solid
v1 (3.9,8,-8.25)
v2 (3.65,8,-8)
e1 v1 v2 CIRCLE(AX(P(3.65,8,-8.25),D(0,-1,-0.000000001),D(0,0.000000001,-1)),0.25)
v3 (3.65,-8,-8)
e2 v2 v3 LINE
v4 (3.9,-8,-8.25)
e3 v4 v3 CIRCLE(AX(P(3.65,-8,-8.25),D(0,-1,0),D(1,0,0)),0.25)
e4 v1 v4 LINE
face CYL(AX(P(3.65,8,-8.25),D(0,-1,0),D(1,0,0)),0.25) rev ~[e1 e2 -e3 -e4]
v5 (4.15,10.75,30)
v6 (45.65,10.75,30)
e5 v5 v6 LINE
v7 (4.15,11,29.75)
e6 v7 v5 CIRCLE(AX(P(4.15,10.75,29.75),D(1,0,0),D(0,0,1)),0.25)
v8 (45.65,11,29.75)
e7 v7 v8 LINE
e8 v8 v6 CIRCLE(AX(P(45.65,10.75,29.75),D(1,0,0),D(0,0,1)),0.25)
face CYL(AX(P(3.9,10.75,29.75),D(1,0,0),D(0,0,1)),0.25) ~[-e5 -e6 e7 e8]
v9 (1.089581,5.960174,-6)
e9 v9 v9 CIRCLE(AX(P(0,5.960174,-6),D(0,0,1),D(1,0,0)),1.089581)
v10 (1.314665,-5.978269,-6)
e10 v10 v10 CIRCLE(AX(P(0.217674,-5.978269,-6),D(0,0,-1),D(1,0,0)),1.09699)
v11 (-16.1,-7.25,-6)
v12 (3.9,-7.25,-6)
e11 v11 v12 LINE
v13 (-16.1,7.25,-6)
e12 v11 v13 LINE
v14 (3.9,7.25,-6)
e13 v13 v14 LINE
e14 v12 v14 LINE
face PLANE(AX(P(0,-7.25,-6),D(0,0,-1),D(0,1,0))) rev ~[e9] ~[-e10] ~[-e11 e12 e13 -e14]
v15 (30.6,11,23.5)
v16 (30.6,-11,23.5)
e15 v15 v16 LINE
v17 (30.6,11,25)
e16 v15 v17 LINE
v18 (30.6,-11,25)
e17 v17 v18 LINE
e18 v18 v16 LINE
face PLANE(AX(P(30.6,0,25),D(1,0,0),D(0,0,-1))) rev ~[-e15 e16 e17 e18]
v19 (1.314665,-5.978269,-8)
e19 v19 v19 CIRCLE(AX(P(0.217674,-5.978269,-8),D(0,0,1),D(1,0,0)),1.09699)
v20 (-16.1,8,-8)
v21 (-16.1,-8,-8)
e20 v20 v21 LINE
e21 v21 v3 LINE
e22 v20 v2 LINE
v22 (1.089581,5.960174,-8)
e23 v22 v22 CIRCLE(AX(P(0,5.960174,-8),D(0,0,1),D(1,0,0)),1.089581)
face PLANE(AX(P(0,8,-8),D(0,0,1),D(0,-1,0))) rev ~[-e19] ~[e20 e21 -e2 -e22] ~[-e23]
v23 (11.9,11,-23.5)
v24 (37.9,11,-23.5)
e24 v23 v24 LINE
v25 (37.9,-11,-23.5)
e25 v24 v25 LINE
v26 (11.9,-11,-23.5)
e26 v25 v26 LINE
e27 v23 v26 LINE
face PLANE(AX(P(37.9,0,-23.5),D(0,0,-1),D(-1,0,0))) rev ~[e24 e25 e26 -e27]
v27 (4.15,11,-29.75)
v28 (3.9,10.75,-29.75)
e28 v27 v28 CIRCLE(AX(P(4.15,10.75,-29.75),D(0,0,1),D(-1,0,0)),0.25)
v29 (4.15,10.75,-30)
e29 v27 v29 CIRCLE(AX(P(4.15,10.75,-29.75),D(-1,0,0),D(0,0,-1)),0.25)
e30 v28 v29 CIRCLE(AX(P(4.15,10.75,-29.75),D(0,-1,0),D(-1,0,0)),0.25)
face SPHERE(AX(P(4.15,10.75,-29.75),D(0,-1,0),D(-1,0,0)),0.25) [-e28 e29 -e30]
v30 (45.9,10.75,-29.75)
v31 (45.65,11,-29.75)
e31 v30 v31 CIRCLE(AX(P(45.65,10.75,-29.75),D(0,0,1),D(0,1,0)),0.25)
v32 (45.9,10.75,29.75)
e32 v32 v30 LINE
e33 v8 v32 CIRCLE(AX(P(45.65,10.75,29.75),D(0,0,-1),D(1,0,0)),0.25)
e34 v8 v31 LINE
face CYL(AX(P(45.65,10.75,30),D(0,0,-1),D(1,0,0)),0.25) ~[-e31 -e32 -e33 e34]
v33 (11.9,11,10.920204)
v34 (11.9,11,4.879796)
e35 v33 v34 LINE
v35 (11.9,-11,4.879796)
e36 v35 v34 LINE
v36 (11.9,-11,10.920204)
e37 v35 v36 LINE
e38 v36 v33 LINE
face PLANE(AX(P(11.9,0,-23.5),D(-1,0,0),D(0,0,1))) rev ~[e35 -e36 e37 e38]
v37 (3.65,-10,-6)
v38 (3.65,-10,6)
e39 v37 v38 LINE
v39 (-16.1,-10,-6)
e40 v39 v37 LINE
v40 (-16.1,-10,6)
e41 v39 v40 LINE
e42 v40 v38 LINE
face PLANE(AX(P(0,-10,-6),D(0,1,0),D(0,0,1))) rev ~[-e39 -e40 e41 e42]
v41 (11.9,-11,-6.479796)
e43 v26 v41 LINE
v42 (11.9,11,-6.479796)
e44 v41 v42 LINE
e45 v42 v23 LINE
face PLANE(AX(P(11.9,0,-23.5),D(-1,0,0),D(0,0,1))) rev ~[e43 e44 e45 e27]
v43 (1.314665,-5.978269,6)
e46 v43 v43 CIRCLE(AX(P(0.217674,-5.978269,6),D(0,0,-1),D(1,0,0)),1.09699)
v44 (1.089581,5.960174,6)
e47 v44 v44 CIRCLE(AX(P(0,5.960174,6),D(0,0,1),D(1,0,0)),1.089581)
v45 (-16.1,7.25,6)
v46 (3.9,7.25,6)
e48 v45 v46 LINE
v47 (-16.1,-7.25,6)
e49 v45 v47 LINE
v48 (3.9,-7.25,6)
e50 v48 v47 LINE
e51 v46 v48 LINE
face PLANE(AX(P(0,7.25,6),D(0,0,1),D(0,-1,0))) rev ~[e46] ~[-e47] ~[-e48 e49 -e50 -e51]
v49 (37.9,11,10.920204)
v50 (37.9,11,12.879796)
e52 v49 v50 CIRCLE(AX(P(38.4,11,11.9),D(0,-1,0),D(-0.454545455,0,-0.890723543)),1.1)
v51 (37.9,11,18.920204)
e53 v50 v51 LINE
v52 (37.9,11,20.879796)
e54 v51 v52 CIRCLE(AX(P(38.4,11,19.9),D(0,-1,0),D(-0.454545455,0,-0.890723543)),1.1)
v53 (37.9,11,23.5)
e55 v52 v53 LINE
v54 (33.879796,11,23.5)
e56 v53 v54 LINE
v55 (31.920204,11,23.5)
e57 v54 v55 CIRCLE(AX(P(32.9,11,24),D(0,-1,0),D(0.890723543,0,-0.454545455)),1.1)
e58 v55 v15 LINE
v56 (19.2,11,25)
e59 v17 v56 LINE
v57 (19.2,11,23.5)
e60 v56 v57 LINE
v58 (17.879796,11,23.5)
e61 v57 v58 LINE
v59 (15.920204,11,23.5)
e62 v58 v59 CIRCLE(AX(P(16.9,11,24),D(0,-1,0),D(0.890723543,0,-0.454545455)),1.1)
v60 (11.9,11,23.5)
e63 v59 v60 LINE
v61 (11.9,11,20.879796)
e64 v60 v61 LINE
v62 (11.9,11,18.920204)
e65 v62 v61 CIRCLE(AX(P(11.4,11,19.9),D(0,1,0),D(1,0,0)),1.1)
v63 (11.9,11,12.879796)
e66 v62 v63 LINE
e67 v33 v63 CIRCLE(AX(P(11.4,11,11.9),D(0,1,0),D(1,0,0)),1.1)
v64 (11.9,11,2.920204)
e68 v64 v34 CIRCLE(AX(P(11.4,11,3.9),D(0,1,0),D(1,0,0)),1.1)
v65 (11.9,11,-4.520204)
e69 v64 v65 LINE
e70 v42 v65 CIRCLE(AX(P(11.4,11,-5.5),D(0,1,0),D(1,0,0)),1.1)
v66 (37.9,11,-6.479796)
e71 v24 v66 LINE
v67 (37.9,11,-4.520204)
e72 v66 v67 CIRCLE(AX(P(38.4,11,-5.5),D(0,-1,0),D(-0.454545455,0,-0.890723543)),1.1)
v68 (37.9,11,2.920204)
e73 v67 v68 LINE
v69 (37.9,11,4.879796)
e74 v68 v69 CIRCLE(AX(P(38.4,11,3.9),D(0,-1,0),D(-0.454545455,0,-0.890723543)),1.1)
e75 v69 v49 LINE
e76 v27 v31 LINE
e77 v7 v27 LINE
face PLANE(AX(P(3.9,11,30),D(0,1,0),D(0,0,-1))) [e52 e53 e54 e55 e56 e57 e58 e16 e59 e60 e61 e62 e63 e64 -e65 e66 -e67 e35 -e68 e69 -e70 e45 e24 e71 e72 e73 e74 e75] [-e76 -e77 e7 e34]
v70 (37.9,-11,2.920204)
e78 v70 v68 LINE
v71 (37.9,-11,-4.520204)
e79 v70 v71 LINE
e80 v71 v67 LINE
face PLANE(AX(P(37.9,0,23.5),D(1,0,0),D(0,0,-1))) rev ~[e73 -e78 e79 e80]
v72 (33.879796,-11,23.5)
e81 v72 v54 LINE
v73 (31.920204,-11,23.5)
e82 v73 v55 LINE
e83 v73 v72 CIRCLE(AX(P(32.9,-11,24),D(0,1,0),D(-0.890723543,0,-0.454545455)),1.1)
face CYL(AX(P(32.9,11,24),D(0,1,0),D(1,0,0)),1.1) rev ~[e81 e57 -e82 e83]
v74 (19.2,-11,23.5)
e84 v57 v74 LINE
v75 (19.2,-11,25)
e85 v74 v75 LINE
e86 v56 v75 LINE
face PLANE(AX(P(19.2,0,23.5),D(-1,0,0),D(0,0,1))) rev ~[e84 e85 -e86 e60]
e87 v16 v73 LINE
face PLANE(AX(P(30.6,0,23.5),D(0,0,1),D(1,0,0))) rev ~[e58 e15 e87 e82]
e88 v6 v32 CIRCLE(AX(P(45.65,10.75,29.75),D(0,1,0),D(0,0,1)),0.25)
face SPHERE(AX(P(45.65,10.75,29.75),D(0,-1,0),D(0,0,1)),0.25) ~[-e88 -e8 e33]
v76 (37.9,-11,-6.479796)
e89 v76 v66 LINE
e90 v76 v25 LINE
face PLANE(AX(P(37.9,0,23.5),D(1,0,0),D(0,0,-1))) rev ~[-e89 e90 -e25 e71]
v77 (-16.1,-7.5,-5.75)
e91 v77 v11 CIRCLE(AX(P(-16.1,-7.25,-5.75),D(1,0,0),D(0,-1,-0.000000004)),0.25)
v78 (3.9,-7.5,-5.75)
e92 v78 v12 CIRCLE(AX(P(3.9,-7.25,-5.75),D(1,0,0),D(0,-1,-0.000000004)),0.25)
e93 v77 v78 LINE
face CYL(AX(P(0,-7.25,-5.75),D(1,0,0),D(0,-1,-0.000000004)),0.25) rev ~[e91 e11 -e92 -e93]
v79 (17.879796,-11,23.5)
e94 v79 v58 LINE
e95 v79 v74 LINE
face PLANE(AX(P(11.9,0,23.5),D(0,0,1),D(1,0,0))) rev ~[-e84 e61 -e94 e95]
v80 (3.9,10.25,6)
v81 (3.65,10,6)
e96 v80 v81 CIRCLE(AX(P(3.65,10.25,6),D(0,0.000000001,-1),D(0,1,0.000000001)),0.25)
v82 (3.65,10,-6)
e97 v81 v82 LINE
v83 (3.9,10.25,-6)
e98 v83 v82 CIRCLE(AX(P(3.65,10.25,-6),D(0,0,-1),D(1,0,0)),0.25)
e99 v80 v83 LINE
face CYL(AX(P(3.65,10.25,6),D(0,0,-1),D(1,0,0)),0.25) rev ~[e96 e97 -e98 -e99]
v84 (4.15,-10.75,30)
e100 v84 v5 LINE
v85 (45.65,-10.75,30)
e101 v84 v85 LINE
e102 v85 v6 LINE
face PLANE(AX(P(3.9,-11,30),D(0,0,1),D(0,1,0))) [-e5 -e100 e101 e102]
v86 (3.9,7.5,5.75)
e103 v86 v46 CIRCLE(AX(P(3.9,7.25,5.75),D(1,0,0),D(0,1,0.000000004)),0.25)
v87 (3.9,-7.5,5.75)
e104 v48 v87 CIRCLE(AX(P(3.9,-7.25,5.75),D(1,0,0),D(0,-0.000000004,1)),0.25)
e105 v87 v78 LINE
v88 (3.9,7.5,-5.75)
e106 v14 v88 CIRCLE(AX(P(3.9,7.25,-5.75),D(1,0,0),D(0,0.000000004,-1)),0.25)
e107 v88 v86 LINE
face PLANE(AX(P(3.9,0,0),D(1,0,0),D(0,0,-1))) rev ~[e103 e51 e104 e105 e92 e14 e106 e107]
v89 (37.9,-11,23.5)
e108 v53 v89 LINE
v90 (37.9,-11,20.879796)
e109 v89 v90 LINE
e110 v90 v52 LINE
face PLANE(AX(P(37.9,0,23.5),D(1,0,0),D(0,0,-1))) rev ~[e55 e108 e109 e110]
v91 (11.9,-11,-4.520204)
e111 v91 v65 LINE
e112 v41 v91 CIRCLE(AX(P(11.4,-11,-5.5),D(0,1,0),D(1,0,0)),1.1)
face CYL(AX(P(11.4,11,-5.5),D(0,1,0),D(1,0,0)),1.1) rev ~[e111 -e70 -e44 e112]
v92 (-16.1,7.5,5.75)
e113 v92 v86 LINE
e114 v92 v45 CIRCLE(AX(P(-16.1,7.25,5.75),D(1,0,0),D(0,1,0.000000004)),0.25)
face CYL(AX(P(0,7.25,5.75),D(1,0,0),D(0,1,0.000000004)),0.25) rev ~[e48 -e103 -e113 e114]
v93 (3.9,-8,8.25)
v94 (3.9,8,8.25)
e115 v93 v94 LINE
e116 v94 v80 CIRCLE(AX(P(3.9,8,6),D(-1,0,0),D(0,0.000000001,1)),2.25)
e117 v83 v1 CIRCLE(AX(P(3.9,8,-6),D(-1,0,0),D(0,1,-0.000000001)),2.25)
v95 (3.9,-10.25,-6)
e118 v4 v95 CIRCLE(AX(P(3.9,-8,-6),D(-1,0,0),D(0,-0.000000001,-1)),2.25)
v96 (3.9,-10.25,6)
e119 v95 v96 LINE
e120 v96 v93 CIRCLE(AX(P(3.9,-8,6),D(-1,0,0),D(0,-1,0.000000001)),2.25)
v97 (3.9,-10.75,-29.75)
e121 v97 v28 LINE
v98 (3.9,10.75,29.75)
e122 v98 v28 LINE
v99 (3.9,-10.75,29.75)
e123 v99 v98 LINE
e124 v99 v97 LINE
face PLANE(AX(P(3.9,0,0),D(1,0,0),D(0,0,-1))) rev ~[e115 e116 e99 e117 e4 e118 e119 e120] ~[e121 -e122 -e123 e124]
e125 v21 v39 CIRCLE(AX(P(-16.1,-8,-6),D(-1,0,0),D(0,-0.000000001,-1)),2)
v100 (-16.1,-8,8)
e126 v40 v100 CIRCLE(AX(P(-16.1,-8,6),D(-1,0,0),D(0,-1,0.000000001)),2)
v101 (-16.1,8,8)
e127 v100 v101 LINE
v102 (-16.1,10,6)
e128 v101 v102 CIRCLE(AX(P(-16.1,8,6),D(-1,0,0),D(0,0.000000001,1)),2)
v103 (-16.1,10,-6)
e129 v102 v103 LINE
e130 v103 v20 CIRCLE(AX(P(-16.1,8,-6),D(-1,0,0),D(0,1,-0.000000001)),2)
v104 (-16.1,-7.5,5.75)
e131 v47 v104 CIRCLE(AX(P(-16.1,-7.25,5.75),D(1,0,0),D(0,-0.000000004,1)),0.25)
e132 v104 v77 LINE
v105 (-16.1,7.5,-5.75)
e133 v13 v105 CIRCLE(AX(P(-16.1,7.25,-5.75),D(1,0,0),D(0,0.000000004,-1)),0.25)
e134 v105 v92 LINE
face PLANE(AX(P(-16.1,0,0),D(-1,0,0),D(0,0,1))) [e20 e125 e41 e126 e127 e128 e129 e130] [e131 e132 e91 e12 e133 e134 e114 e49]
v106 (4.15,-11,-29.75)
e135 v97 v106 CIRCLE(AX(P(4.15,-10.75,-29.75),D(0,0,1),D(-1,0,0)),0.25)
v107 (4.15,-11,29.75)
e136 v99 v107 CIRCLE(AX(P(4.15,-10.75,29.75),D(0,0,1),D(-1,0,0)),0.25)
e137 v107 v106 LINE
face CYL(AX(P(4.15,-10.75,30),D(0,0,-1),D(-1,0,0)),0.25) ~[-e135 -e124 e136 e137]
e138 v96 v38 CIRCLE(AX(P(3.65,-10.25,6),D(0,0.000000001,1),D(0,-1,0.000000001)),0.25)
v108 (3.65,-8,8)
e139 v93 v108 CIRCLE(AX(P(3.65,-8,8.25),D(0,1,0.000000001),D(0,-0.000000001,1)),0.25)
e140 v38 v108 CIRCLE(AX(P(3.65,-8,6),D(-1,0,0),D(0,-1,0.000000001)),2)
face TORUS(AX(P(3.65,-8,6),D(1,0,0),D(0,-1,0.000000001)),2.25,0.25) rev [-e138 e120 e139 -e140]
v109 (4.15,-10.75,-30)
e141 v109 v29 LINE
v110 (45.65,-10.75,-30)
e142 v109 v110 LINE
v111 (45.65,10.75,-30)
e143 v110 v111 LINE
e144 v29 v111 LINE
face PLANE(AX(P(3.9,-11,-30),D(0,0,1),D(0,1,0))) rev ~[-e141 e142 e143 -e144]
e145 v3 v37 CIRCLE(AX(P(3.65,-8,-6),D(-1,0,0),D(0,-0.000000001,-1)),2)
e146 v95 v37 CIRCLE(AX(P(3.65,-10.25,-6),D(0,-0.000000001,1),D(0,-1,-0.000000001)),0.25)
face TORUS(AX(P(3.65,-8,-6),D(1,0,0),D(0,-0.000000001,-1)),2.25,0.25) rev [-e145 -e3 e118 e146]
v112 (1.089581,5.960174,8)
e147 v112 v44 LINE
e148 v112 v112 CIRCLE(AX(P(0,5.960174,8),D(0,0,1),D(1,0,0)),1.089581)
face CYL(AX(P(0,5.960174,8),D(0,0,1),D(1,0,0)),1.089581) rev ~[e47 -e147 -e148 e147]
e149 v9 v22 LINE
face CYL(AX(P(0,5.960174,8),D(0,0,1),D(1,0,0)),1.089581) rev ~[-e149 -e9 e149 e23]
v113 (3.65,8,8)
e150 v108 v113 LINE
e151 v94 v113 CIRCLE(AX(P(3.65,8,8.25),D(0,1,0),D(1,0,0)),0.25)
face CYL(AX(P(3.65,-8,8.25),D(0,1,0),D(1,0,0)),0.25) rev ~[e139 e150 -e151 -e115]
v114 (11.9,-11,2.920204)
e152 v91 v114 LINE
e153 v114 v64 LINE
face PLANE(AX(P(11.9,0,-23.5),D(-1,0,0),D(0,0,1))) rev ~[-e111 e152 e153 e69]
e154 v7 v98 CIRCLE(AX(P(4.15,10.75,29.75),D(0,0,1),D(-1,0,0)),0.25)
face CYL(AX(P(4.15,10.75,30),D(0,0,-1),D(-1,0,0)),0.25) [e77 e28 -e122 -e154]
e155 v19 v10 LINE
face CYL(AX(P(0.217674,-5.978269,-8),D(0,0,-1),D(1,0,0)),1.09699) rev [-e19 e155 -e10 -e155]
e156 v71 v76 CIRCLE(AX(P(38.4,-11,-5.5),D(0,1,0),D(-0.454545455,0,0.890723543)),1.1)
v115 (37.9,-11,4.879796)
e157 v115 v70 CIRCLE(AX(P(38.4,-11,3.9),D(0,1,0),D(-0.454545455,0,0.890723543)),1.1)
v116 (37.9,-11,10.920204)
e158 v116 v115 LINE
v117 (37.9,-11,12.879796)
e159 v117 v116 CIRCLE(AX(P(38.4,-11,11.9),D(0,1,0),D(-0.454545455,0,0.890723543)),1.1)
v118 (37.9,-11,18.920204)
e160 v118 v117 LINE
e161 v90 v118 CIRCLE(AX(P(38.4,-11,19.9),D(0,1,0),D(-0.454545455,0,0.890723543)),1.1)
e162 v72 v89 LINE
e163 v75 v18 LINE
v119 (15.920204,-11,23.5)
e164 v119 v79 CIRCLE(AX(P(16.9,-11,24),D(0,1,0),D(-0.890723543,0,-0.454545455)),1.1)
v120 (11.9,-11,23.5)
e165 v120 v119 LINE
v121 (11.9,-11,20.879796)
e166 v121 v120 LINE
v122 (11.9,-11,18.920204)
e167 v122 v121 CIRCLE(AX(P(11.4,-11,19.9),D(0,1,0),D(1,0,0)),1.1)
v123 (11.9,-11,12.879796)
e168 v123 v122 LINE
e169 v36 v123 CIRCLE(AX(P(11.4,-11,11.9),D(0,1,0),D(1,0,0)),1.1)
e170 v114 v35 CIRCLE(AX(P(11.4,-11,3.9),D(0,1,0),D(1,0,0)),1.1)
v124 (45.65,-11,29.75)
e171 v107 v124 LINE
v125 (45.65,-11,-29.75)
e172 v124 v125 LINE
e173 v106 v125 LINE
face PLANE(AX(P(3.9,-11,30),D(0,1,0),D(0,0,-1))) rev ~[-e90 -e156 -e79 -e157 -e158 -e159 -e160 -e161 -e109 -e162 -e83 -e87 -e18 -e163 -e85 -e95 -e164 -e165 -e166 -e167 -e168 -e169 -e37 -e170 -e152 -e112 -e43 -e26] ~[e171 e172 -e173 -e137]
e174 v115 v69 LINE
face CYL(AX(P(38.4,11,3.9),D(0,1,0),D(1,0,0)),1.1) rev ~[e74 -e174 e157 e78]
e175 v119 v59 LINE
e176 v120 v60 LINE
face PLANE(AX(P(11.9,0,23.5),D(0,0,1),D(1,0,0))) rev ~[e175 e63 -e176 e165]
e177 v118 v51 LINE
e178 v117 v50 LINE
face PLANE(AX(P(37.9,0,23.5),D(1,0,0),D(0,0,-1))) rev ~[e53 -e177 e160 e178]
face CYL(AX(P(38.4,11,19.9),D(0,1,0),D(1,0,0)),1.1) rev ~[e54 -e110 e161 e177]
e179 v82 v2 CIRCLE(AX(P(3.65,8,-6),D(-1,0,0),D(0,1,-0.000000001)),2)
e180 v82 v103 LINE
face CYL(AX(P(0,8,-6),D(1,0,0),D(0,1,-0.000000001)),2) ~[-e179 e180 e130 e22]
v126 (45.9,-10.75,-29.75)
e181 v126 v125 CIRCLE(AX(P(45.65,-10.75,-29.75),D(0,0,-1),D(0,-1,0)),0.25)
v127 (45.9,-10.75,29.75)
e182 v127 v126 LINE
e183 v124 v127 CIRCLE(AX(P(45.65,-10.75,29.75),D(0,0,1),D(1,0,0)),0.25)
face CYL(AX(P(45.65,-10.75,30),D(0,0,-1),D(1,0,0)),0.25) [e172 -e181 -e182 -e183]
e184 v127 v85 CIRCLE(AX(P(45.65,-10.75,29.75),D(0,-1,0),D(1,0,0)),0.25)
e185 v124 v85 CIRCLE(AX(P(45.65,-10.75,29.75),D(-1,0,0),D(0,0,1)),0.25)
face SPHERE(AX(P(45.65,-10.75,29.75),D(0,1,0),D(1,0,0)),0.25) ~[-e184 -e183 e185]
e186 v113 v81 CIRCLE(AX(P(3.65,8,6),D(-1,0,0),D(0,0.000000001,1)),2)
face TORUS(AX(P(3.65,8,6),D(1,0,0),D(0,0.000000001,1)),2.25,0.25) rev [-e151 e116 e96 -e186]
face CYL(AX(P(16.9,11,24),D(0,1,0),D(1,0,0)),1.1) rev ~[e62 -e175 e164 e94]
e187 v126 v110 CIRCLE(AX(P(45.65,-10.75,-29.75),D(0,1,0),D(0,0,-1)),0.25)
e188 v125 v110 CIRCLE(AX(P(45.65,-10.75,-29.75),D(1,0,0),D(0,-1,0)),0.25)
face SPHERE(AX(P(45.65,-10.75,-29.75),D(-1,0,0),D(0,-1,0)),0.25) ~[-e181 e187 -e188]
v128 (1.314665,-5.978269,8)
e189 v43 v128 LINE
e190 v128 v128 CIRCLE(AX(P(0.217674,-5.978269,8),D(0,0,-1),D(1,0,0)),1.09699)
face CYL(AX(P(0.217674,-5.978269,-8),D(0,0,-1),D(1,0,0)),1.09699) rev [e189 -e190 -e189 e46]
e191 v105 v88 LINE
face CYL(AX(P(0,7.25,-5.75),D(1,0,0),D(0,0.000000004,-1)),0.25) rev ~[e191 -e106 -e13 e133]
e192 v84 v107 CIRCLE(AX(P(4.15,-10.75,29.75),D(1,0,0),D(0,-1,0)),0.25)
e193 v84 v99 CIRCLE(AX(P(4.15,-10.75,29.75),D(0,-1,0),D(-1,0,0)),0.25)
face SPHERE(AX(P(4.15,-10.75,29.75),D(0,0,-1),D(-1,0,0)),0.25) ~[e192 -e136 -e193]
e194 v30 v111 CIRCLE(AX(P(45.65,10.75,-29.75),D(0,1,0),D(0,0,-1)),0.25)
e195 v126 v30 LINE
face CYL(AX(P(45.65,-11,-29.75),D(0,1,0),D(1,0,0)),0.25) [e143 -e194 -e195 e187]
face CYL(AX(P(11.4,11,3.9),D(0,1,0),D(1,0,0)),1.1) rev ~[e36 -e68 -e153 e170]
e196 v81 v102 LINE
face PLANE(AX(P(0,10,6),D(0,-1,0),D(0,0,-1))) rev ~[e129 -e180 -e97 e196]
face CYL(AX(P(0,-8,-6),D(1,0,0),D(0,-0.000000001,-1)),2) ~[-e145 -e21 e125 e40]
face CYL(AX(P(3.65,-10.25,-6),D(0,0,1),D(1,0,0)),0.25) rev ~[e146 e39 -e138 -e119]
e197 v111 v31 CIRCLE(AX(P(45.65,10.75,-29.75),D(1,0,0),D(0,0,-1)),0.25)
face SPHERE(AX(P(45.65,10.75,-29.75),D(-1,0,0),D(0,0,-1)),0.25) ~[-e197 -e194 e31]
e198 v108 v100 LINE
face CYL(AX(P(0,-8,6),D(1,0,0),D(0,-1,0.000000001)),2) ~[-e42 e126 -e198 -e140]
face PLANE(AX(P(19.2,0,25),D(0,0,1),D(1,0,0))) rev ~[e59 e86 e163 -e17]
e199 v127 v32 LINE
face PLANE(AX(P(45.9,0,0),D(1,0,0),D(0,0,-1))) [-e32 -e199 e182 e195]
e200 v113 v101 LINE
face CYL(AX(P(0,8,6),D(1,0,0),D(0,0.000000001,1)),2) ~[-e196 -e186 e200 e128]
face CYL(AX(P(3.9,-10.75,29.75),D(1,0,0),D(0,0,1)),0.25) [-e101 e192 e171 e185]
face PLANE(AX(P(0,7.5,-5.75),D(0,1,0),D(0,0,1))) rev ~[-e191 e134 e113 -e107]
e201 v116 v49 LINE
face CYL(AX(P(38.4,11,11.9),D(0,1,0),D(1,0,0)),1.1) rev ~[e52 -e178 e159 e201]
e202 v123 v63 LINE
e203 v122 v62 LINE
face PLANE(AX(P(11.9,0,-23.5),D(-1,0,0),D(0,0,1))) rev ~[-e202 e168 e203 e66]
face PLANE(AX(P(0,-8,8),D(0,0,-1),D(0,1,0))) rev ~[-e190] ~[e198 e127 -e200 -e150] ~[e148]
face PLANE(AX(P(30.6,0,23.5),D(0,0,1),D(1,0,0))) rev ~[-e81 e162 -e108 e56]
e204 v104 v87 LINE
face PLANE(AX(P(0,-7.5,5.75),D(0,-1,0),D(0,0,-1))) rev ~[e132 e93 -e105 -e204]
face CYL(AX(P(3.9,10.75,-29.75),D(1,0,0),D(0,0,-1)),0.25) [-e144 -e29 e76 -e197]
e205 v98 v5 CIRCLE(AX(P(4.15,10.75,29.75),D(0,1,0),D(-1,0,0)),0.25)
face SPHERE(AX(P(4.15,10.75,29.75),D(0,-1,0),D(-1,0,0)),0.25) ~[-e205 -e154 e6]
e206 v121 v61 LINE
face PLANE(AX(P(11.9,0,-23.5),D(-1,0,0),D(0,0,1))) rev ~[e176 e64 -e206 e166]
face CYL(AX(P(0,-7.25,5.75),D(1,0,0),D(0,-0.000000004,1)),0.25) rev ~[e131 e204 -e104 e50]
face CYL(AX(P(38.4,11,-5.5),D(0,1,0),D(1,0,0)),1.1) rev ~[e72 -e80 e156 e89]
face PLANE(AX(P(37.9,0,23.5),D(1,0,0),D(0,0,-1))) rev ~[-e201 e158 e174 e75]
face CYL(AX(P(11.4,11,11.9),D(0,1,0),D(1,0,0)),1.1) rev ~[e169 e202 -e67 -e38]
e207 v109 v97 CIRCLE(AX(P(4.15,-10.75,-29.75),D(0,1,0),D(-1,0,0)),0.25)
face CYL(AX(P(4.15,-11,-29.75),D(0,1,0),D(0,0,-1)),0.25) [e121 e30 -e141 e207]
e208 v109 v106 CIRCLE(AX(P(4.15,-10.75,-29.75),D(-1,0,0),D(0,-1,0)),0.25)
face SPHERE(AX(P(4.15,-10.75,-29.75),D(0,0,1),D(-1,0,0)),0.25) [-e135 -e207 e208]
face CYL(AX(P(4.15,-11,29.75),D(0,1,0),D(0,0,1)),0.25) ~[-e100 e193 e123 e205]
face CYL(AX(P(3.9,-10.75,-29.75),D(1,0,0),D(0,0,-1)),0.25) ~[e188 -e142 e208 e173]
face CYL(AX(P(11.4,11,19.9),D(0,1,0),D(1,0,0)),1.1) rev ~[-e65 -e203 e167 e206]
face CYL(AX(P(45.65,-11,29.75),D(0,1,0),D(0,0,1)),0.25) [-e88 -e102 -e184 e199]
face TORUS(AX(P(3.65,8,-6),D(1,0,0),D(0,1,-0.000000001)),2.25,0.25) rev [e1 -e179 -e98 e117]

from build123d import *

# Parameters (mm, degrees)
BOSS_EXTRUDE3_DEPTH      = 3.9
BOSS_EXTRUDE3_DEPTH_BACK = 16.1
SKETCH8_R                = 1.089581078
CUT_EXTRUDE2_DEPTH       = 23.9
SKETCH9_R                = 1.096990471
CUT_EXTRUDE3_DEPTH       = 23.9
SKETCH14_W               = 60
SKETCH14_H               = 22
BOSS_EXTRUDE4_DEPTH      = 42
CUT_EXTRUDE4_DEPTH       = 22
CUT_EXTRUDE4_DEPTH_BACK  = 25
FILLET5_R                = 0.25
SKETCH20_R               = 1.1
CUT_EXTRUDE6_DEPTH       = 110
SKETCH23_R               = 1.1
CUT_EXTRUDE7_DEPTH       = 110


with BuildPart() as part:
    # Sketch1 → Boss-Extrude3 (new body, two sides)
    with BuildSketch(Plane(origin=(0, 0, 0), x_dir=(0, 0, -1), z_dir=(1, 0, 0))) as boss_extrude3_sk:
        with BuildLine():
            ThreePointArc((-6, -10), (-7.414213562, -9.414213562), (-8, -8))
            Line((-8, -8), (-8, 8))
            ThreePointArc((-8, 8), (-7.414213562, 9.414213562), (-6, 10))
            Line((-6, 10), (6, 10))
            ThreePointArc((6, 10), (7.414213562, 9.414213562), (8, 8))
            Line((8, 8), (8, -8))
            ThreePointArc((8, -8), (7.414213562, -9.414213562), (6, -10))
            Line((6, -10), (-6, -10))
        make_face()
        with BuildLine():
            ThreePointArc((-6, -7.25), (-5.926776695, -7.426776695), (-5.75, -7.5))
            Line((-5.75, -7.5), (5.75, -7.5))
            ThreePointArc((5.75, -7.5), (5.926776695, -7.426776695), (6, -7.25))
            Line((6, -7.25), (6, 7.25))
            ThreePointArc((6, 7.25), (5.926776695, 7.426776695), (5.75, 7.5))
            Line((5.75, 7.5), (-5.75, 7.5))
            ThreePointArc((-5.75, 7.5), (-5.926776695, 7.426776695), (-6, 7.25))
            Line((-6, 7.25), (-6, -7.25))
        make_face(mode=Mode.SUBTRACT)
    extrude(amount=BOSS_EXTRUDE3_DEPTH)
    extrude(boss_extrude3_sk.sketch, amount=-BOSS_EXTRUDE3_DEPTH_BACK)

    # Sketch8 → Cut-Extrude2 (cut)
    with BuildSketch(Plane.XY.offset(8)):
        with Locations((0, 5.960174238)):
            Circle(SKETCH8_R)
    extrude(amount=-CUT_EXTRUDE2_DEPTH, mode=Mode.SUBTRACT)

    # Sketch9 → Cut-Extrude3 (cut)
    with BuildSketch(Plane.XY.offset(-8)):
        with Locations((0.217674261, -5.978268898)):
            Circle(SKETCH9_R)
    extrude(amount=CUT_EXTRUDE3_DEPTH, mode=Mode.SUBTRACT)

    # Sketch14 → Boss-Extrude4 (add)
    with BuildSketch(Plane(origin=(3.9, 0, 0), x_dir=(0, 0, -1), z_dir=(1, 0, 0))):
        Rectangle(SKETCH14_W, SKETCH14_H)
    extrude(amount=BOSS_EXTRUDE4_DEPTH)

    # Sketch19 → Cut-Extrude4 (cut, two sides)
    with BuildSketch(Plane(origin=(0, 0, 0), x_dir=(1, 0, 0), z_dir=(0, 1, 0))) as cut_extrude4_sk:
        Polygon((11.9, -23.5), (19.2, -23.5), (19.2, -25), (30.6, -25), (30.6, -23.5), (37.9, -23.5), (37.9, 23.5), (11.9, 23.5), align=None)
    extrude(amount=CUT_EXTRUDE4_DEPTH, mode=Mode.SUBTRACT)
    extrude(cut_extrude4_sk.sketch, amount=-CUT_EXTRUDE4_DEPTH_BACK, mode=Mode.SUBTRACT)

    # Fillet5
    fillet5_edges = [part.edges().sort_by_distance(p)[0] for p in [
        (3.9, -11, 0),
        (3.9, 0, 30),
        (3.9, 0, -30),
        (24.9, -11, -30),
        (3.9, 11, 0),
        (24.9, 11, -30),
        (45.9, 0, 30),
        (24.9, 11, 30),
        (45.9, -11, 0),
        (24.9, -11, 30),
        (45.9, 0, -30),
        (45.9, 11, 0),
        (3.9, -9.414213562, 7.414213562),
        (3.9, -10, 0),
        (3.9, 9.414213562, -7.414213562),
        (3.9, 0, 8),
        (3.9, -9.414213562, -7.414213562),
        (3.9, 0, -8),
        (3.9, 10, 0),
        (3.9, 9.414213562, 7.414213562),
    ]]
    fillet(fillet5_edges, radius=FILLET5_R)

    # Sketch20 → Cut-Extrude6 (cut)
    with BuildSketch(Plane(origin=(0, 11, 0), x_dir=(1, 0, 0), z_dir=(0, 1, 0))):
        with Locations((11.4, 5.5)):
            Circle(SKETCH20_R)
        with Locations((11.4, -3.9)):
            Circle(SKETCH20_R)
        with Locations((11.4, -11.9)):
            Circle(SKETCH20_R)
        with Locations((11.4, -19.9)):
            Circle(SKETCH20_R)
        with Locations((38.4, -19.9)):
            Circle(SKETCH20_R)
        with Locations((38.4, -11.9)):
            Circle(SKETCH20_R)
        with Locations((38.4, -3.9)):
            Circle(SKETCH20_R)
        with Locations((38.4, 5.5)):
            Circle(SKETCH20_R)
    extrude(amount=-CUT_EXTRUDE6_DEPTH, mode=Mode.SUBTRACT)

    # Sketch23 → Cut-Extrude7 (cut)
    with BuildSketch(Plane(origin=(0, 11, 0), x_dir=(1, 0, 0), z_dir=(0, 1, 0))):
        with Locations((16.9, -24)):
            Circle(SKETCH23_R)
        with Locations((32.9, -24)):
            Circle(SKETCH23_R)
    extrude(amount=-CUT_EXTRUDE7_DEPTH, mode=Mode.SUBTRACT)


solid = part.part
